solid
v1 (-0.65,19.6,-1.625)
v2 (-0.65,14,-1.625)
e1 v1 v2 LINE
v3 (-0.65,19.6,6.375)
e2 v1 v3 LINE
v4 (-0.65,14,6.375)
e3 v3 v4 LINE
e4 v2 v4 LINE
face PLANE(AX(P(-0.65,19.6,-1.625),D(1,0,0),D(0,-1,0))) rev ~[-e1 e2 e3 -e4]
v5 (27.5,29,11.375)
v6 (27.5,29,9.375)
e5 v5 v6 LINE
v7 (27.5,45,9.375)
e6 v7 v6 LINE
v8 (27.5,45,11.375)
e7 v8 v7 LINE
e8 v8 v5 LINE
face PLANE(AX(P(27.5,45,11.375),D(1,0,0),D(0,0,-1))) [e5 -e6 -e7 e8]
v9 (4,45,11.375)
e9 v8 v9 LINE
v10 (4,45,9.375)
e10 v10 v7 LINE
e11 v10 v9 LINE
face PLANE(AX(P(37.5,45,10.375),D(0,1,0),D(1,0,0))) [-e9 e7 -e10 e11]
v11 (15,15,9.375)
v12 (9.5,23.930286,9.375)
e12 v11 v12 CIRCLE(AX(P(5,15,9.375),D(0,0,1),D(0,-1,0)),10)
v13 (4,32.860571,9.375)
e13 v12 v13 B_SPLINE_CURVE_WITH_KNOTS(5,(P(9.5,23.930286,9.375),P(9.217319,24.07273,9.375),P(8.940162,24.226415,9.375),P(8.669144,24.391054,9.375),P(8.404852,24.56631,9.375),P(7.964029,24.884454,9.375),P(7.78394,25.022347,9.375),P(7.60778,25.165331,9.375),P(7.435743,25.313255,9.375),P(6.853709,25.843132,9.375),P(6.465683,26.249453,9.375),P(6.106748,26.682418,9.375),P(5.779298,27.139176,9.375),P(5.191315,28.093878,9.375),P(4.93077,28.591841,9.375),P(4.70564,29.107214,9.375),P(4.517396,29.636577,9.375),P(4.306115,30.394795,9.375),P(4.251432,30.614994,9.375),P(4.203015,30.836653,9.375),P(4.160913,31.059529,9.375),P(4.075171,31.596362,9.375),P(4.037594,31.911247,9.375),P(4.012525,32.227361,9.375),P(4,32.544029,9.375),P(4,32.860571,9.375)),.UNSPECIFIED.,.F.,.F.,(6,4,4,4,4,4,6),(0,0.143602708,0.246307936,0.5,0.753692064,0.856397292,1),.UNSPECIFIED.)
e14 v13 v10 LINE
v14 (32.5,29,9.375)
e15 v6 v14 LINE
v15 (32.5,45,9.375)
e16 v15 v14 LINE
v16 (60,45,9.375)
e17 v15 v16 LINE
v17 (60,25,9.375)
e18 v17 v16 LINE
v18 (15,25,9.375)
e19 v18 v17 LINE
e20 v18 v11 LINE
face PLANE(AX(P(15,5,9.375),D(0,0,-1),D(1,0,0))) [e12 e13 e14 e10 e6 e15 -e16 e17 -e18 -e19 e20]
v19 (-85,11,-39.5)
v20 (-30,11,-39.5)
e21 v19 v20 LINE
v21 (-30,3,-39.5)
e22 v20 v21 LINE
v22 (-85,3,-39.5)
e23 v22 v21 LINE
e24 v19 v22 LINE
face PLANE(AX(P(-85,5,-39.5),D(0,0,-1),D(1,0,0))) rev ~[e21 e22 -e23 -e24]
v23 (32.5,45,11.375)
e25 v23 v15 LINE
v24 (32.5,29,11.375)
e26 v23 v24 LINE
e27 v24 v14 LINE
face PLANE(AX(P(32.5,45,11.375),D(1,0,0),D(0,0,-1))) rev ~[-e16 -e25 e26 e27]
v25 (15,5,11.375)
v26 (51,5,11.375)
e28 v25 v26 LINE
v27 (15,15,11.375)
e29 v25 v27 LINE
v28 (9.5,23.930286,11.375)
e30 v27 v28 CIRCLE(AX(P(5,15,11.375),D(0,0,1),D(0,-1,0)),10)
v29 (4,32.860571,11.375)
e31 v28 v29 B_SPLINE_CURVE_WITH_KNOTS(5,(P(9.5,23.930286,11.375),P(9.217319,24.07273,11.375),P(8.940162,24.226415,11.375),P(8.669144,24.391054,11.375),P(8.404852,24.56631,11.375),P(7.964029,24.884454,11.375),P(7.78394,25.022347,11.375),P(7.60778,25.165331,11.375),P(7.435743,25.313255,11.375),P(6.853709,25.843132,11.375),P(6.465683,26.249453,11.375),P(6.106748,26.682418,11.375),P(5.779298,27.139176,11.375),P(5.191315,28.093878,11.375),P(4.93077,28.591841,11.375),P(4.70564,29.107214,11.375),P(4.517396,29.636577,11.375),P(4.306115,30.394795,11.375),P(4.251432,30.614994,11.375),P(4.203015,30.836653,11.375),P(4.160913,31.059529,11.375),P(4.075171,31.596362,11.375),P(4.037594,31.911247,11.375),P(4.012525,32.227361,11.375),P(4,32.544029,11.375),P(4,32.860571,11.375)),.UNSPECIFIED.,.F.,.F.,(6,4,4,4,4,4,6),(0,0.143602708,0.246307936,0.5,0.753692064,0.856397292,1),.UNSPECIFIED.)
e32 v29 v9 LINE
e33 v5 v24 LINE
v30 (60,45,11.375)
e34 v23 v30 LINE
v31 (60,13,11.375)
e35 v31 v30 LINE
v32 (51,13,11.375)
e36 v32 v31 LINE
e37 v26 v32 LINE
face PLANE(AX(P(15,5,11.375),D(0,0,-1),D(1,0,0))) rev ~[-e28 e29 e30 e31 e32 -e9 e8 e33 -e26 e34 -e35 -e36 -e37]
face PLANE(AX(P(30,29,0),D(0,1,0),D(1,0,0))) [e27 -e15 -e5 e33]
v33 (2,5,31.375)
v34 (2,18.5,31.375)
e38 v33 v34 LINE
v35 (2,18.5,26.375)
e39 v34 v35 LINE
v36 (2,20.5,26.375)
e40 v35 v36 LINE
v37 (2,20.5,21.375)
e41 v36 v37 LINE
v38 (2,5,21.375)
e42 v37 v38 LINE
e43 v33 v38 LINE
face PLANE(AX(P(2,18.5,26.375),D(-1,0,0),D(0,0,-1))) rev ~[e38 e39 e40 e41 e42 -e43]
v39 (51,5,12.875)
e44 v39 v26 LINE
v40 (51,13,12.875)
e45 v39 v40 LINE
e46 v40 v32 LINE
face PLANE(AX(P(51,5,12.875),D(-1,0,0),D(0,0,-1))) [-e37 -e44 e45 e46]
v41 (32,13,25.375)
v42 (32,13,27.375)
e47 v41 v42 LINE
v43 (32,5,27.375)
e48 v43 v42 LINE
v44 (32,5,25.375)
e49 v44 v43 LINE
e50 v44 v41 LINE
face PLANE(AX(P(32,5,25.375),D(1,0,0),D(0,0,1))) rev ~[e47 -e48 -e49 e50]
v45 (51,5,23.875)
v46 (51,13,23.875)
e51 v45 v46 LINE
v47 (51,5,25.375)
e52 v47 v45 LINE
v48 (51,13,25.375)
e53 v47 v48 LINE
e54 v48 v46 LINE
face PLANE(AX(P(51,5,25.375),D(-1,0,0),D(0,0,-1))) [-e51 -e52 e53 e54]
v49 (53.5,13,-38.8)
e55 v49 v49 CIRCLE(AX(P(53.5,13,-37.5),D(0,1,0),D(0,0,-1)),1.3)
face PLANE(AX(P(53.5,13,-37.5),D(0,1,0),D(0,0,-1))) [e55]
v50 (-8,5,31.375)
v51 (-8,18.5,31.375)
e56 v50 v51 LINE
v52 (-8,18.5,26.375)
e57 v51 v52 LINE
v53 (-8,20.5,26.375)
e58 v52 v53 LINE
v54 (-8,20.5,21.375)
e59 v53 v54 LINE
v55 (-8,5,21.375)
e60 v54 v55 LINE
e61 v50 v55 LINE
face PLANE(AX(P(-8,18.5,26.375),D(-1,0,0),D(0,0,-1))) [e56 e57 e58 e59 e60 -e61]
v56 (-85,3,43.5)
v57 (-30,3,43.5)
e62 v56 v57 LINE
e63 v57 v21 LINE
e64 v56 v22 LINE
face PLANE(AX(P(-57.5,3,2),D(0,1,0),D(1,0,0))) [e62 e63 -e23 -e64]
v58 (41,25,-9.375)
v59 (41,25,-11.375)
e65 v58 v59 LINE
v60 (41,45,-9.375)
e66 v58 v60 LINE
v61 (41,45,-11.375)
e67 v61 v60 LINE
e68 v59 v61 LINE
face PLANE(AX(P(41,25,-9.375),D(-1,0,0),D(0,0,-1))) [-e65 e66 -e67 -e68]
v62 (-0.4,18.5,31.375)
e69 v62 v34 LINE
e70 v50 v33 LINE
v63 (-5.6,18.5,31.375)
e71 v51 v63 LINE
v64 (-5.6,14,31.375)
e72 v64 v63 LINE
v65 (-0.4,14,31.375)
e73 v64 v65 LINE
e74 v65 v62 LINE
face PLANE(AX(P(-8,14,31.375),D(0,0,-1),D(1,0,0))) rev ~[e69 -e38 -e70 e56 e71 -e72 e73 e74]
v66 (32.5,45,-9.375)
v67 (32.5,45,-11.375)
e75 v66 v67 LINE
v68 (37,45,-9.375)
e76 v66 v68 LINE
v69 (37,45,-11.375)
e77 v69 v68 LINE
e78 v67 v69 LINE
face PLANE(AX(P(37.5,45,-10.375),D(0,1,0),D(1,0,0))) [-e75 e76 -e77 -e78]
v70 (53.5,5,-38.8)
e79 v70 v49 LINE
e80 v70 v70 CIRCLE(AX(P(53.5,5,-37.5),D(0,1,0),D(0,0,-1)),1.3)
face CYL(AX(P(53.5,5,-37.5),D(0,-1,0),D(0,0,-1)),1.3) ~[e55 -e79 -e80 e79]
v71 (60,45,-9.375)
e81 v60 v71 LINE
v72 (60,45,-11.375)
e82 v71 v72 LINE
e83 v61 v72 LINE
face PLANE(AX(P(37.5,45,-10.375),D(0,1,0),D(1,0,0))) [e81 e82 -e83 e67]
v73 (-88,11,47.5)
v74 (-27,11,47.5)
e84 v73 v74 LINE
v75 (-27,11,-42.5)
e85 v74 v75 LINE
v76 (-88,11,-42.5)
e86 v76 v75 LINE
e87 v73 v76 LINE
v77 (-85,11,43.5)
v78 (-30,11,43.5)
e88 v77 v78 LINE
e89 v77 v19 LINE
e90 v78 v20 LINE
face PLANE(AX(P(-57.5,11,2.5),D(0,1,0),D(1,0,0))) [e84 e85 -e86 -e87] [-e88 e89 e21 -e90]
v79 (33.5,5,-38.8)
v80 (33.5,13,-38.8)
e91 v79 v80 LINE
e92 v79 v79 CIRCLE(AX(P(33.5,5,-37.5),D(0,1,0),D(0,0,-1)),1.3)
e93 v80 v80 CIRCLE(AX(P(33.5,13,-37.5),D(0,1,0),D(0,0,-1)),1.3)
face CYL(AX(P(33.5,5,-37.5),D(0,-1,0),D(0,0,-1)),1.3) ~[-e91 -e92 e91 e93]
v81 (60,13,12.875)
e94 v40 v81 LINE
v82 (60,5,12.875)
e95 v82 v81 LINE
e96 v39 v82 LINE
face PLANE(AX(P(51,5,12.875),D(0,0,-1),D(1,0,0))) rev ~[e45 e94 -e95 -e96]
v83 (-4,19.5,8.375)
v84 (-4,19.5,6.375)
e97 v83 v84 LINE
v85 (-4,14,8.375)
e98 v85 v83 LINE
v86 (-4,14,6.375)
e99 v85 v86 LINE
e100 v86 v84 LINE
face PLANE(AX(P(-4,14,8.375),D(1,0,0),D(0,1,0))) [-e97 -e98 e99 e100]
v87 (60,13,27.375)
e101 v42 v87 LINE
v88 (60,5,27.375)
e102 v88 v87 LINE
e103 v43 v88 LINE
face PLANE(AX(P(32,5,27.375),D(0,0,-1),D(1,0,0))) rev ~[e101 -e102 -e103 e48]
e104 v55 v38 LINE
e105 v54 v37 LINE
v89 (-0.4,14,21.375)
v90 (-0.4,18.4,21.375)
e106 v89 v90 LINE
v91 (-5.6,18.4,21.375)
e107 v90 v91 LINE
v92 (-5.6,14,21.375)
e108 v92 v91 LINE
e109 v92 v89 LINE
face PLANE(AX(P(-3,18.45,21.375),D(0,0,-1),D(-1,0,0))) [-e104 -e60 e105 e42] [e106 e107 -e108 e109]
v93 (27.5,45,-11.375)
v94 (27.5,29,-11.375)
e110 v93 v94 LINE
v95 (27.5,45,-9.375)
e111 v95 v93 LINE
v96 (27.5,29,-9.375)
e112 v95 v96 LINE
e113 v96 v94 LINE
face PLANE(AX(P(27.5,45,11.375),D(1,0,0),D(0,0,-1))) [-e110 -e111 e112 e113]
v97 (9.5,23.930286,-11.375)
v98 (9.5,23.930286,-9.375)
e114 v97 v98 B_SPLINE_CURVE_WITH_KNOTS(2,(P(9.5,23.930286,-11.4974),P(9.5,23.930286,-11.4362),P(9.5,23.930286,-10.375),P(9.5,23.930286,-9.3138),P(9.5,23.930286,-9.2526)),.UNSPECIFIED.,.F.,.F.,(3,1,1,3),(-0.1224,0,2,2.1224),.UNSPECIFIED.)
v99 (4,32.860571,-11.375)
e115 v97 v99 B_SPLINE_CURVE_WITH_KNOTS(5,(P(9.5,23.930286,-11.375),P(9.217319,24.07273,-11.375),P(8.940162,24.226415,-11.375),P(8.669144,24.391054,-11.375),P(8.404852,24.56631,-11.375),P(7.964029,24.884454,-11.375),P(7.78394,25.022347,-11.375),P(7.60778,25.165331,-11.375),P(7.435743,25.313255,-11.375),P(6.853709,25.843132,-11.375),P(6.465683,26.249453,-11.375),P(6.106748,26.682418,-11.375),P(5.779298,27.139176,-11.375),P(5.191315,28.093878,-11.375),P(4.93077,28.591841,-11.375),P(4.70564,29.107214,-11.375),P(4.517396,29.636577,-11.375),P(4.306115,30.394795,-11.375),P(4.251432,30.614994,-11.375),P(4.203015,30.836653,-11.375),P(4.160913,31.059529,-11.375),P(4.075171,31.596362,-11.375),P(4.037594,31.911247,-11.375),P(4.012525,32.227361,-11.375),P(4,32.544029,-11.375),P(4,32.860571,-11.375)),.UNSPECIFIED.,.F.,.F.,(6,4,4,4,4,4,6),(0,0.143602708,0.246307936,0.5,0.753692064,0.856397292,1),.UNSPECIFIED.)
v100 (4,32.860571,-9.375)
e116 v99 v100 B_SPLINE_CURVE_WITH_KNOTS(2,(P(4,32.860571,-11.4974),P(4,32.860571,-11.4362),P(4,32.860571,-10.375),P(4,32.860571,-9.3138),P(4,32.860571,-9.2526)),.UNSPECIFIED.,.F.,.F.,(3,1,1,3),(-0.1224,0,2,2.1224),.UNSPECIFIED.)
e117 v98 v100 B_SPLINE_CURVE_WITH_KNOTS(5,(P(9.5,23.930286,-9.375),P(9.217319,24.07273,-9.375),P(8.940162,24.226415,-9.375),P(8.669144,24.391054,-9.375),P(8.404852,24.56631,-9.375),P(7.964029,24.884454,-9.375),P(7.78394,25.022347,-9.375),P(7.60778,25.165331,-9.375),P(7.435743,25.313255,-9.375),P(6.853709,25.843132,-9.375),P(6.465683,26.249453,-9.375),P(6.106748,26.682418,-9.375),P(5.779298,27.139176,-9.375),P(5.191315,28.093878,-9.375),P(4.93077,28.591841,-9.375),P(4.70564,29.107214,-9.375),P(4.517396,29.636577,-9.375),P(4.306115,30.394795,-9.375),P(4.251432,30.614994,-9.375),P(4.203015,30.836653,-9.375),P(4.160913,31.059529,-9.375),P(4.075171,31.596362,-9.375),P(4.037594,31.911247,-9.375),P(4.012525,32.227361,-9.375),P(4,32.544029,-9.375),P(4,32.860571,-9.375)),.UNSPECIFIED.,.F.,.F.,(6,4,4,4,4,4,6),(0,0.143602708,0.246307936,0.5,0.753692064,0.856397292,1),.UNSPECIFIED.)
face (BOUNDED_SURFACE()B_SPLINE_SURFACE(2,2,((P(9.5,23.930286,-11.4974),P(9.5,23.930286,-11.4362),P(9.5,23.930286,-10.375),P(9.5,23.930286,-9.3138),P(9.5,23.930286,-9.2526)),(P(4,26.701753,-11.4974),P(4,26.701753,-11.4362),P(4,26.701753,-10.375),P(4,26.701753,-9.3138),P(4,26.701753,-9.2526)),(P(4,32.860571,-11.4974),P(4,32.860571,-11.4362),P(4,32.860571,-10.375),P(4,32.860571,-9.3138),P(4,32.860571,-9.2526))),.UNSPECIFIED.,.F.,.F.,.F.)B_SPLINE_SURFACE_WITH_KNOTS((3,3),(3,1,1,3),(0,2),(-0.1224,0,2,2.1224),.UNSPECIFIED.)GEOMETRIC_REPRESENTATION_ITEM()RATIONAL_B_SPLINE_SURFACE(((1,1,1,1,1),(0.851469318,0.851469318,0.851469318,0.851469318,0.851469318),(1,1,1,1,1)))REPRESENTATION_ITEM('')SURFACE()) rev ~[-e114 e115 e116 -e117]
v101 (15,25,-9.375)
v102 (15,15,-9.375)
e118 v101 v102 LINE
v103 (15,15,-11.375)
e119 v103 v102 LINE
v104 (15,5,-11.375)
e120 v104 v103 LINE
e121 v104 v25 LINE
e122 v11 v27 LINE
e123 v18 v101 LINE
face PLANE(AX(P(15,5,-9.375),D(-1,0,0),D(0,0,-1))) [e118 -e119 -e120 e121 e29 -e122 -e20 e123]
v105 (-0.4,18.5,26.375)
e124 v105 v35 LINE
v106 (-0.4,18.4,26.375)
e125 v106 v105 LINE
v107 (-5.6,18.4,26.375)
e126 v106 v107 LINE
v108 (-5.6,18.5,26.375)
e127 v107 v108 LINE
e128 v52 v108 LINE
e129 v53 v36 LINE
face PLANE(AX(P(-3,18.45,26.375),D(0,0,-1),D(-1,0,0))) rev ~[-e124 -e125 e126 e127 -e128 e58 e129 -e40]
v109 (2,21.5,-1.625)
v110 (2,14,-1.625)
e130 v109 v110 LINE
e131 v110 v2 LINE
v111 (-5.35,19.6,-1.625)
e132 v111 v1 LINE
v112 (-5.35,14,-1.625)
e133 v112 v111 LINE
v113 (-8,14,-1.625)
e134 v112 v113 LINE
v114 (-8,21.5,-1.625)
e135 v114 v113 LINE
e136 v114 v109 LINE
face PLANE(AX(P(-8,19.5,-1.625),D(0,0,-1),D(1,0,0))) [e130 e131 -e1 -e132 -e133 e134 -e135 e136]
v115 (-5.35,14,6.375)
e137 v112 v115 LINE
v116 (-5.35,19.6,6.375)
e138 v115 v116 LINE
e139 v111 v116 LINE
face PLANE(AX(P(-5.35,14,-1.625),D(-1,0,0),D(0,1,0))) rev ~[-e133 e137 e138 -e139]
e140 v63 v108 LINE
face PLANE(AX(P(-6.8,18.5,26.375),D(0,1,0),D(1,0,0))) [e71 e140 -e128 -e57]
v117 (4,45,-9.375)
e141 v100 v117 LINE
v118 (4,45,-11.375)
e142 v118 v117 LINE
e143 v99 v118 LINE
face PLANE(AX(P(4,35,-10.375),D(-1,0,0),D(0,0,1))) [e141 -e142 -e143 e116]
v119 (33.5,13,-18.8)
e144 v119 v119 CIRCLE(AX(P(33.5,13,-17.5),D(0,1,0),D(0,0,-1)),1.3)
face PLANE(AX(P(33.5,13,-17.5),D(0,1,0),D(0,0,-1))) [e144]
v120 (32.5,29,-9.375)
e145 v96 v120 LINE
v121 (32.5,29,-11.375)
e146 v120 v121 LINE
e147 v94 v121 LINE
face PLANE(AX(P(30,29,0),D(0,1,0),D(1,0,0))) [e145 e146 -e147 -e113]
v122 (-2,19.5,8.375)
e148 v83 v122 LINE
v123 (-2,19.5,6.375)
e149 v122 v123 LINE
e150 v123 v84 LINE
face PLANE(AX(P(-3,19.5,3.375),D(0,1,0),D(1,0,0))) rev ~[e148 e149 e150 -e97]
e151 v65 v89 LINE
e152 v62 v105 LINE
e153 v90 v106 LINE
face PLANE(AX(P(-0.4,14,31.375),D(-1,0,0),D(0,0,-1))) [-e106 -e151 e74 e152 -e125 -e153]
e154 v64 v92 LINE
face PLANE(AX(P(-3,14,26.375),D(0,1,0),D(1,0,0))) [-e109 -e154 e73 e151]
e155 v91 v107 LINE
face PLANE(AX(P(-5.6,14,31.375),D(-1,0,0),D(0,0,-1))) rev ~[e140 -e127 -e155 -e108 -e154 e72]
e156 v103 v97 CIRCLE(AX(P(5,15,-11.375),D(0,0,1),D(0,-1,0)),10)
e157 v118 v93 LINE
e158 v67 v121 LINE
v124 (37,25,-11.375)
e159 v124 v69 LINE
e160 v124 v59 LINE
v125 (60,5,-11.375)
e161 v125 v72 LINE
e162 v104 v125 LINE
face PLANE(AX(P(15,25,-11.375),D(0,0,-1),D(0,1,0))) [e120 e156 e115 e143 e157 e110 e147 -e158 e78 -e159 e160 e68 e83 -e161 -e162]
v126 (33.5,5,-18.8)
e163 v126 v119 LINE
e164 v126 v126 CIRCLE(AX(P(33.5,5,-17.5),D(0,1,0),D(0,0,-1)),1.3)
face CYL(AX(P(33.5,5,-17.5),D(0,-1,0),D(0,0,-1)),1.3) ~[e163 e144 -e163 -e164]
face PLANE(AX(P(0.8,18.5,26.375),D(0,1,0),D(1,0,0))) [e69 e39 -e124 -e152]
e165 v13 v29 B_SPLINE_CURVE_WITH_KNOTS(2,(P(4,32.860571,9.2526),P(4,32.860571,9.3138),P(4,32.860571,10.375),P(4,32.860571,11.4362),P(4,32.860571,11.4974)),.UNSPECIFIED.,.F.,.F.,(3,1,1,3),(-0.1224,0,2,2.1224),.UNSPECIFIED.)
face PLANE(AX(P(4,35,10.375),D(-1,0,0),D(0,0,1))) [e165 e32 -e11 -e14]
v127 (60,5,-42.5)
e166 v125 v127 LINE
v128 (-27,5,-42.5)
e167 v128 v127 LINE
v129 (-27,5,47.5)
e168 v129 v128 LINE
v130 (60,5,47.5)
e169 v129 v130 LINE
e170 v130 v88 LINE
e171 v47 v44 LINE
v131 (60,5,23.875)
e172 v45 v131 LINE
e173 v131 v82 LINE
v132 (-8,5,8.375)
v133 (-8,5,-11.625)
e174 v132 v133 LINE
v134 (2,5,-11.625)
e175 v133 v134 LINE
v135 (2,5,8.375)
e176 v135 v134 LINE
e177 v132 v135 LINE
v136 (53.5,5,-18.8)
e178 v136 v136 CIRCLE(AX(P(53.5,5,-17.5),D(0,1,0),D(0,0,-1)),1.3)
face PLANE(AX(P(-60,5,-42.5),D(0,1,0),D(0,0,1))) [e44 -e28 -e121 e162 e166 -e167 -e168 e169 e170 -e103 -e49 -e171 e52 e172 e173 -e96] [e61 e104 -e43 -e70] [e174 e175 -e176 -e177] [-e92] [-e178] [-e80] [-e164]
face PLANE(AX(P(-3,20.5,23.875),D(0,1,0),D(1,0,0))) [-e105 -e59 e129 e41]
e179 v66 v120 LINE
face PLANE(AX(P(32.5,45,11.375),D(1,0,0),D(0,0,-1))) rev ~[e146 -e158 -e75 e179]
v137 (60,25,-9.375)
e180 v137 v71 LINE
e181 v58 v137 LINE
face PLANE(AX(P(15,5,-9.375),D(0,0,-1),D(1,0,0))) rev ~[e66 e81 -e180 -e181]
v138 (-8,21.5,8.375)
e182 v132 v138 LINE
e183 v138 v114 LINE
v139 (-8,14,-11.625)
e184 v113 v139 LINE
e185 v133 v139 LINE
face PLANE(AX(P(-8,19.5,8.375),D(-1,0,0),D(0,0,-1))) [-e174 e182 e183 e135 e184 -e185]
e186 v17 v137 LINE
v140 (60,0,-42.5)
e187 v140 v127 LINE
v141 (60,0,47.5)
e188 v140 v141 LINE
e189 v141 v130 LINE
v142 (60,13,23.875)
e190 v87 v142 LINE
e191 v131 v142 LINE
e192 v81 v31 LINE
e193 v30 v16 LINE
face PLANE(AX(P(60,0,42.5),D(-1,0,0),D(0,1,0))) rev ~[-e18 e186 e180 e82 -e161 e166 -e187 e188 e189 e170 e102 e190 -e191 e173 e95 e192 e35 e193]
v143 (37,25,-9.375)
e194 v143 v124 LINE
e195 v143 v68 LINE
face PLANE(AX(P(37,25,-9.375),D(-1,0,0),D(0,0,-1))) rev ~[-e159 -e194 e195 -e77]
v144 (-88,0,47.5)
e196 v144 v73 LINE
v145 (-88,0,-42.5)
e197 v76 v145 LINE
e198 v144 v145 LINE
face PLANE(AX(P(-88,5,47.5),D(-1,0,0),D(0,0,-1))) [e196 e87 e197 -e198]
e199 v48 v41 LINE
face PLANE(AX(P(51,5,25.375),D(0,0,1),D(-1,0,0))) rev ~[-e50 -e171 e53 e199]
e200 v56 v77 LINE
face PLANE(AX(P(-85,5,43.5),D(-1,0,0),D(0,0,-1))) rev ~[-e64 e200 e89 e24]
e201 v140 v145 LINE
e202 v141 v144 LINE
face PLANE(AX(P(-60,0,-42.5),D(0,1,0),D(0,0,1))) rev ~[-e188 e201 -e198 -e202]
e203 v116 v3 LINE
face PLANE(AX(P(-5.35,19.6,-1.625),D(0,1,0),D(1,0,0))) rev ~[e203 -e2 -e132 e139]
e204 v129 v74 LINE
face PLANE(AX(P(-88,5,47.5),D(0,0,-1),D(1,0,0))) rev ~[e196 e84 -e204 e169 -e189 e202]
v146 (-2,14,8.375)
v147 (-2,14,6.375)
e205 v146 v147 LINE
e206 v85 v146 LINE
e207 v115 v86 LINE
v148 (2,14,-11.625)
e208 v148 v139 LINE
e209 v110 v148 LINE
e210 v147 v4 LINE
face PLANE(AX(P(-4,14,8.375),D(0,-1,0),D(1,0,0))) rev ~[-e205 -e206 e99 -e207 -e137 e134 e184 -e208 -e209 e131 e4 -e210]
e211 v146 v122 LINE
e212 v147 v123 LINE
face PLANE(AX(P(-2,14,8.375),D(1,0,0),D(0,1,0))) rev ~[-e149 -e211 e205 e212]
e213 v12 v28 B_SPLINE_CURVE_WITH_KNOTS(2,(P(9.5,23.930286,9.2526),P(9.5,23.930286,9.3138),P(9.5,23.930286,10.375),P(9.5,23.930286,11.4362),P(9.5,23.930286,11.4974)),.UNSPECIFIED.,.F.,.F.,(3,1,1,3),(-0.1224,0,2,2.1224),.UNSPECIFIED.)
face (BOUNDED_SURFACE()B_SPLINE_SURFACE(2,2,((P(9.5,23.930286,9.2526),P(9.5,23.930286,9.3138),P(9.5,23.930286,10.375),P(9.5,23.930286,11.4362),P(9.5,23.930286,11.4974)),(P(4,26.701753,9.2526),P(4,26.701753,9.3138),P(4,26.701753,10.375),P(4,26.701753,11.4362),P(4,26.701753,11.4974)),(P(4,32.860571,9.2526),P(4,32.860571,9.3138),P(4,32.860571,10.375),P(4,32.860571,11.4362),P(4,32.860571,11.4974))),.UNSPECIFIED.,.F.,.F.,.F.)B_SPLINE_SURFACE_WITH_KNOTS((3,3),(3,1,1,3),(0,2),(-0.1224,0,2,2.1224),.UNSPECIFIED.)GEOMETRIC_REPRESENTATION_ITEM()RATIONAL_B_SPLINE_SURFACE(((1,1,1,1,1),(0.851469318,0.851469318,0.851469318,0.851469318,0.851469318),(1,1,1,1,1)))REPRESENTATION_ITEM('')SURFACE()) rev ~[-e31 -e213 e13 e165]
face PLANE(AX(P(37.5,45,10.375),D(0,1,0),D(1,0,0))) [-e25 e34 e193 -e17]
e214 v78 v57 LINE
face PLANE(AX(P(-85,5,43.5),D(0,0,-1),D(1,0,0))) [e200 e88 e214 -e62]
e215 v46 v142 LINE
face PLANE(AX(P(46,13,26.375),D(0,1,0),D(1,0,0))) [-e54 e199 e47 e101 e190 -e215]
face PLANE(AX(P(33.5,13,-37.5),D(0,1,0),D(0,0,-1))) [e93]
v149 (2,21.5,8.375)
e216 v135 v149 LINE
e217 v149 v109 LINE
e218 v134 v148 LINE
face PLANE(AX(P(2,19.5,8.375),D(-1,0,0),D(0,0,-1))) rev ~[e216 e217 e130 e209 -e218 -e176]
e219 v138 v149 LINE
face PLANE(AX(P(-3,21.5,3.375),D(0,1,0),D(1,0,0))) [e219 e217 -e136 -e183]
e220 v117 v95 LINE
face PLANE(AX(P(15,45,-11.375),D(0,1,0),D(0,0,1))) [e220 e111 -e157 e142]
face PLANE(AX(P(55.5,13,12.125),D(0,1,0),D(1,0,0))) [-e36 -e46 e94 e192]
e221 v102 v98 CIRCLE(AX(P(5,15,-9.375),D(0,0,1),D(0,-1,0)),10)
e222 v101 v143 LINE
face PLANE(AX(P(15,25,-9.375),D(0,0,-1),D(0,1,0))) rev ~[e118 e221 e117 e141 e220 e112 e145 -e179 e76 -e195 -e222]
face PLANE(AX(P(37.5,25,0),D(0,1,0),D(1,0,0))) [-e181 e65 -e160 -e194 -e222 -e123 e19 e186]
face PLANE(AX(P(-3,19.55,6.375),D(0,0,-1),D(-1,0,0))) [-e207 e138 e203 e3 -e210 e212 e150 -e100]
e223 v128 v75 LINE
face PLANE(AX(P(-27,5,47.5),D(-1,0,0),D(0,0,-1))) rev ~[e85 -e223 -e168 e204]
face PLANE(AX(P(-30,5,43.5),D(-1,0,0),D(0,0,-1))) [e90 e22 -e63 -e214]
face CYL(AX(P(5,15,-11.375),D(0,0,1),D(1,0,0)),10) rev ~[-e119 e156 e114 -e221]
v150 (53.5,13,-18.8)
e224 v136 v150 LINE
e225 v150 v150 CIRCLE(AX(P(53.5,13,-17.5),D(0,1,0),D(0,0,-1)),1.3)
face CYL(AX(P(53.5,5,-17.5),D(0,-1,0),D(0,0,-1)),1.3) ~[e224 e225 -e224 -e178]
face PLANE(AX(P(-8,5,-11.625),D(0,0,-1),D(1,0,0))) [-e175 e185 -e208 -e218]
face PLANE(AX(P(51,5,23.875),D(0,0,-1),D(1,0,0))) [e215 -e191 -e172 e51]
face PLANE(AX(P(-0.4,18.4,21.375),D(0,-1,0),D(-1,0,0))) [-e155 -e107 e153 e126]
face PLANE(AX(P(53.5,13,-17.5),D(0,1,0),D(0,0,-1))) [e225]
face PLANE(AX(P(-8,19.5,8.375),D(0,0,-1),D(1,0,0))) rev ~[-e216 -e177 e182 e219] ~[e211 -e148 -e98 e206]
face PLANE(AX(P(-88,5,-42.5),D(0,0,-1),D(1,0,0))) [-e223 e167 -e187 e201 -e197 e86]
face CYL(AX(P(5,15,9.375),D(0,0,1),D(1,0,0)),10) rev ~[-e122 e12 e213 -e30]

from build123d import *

# Parameters (mm, degrees)
SKETCH3_W               = 120
SKETCH3_H               = 85
BOSS_EXTRUDE1_DEPTH     = 5
SKETCH4_W               = 45
SKETCH4_H               = 18.75
BOSS_EXTRUDE2_DEPTH     = 20
SKETCH6_W               = 45
SKETCH6_H               = 2
BOSS_EXTRUDE3_DEPTH     = 40
CUT_EXTRUDE1_DEPTH      = 87.204698248
CUT_EXTRUDE1_DEPTH_BACK = 20
SKETCH7_W               = 4
SKETCH7_H               = 2
SKETCH8_W               = 10
SKETCH8_H               = 20
BOSS_EXTRUDE4_DEPTH     = 9
BOSS_EXTRUDE5_DEPTH     = 5.5
SKETCH10_W              = 2
SKETCH10_H              = 5.5
CUT_EXTRUDE2_DEPTH      = 91.627068942
SKETCH11_W              = 10
SKETCH11_H              = 10
BOSS_EXTRUDE6_DEPTH     = 2
SKETCH12_W              = 10
SKETCH12_H              = 10
BOSS_EXTRUDE7_DEPTH     = 9
SKETCH13_W              = 2.4
SKETCH13_H              = 10
BOSS_EXTRUDE8_DEPTH     = 4.5
SKETCH14_W              = 10
SKETCH14_H              = 5
BOSS_EXTRUDE9_DEPTH     = 2
SKETCH15_R              = 1.3
BOSS_EXTRUDE10_DEPTH    = 8
SKETCH16_W              = 9
SKETCH16_H              = 1.5
BOSS_EXTRUDE11_DEPTH    = 8
SKETCH18_W              = 120
SKETCH18_H              = 5
BOSS_EXTRUDE12_DEPTH    = 5
SKETCH19_W              = 90
SKETCH19_H              = 5
BOSS_EXTRUDE13_DEPTH    = 30
SKETCH17_W              = 55
SKETCH17_H              = 83
CUT_EXTRUDE3_DEPTH      = 2
SKETCH20_W              = 61
SKETCH20_H              = 90
SKETCH20_W_2            = 55
SKETCH20_H_2            = 83
BOSS_EXTRUDE14_DEPTH    = 6
SKETCH21_W              = 2
SKETCH21_H              = 90
CUT_EXTRUDE4_DEPTH      = 110.344638643
SKETCH22_W              = 5
SKETCH22_H              = 22.75
CUT_EXTRUDE5_DEPTH      = 16
SKETCH23_W              = 2
SKETCH23_H              = 20
BOSS_EXTRUDE15_DEPTH    = 11
FILLET1_R               = 10
FILLET2_R               = 10
SKETCH24_W              = 0.1
SKETCH24_H              = 5.5
CUT_EXTRUDE6_DEPTH      = 8
SKETCH25_W              = 5.2
SKETCH25_H              = 0.1
BOSS_EXTRUDE16_DEPTH    = 5


with BuildPart() as part:
    # Sketch3 → Boss-Extrude1 (new body)
    with BuildSketch(Plane(origin=(0, 0, 0), x_dir=(1, 0, 0), z_dir=(0, 1, 0))):
        Rectangle(SKETCH3_W, SKETCH3_H)
    extrude(amount=BOSS_EXTRUDE1_DEPTH)

    # Sketch4 → Boss-Extrude2 (add)
    with BuildSketch(Plane(origin=(0, 5, 0), x_dir=(1, 0, 0), z_dir=(0, 1, 0))):
        with Locations((37.5, 0)):
            Rectangle(SKETCH4_W, SKETCH4_H)
    extrude(amount=BOSS_EXTRUDE2_DEPTH)

    # Sketch6 → Boss-Extrude3 (add)
    with BuildSketch(Plane(origin=(0, 5, 0), x_dir=(1, 0, 0), z_dir=(0, 1, 0))):
        with Locations((37.5, 10.375)):
            Rectangle(SKETCH6_W, SKETCH6_H)
        with Locations((37.5, -10.375)):
            Rectangle(SKETCH6_W, SKETCH6_H)
    extrude(amount=BOSS_EXTRUDE3_DEPTH)

    # Sketch7 → Cut-Extrude1 (cut, two sides: drawn at the far end of the back side and taken through both)
    with BuildSketch(Plane(origin=(0, 45, 0), x_dir=(1, 0, 0), z_dir=(0, 1, 0)).offset(-CUT_EXTRUDE1_DEPTH_BACK)):
        with Locations((39, 10.375)):
            Rectangle(SKETCH7_W, SKETCH7_H)
    extrude(amount=CUT_EXTRUDE1_DEPTH + CUT_EXTRUDE1_DEPTH_BACK, mode=Mode.SUBTRACT)

    # Sketch8 → Boss-Extrude4 (add)
    with BuildSketch(Plane(origin=(0, 5, 0), x_dir=(1, 0, 0), z_dir=(0, 1, 0))):
        with Locations((-3, 1.625)):
            Rectangle(SKETCH8_W, SKETCH8_H)
    extrude(amount=BOSS_EXTRUDE4_DEPTH)

    # Sketch9 → Boss-Extrude5 (add)
    with BuildSketch(Plane(origin=(0, 14, 0), x_dir=(1, 0, 0), z_dir=(0, 1, 0))):
        Polygon((-8, -8.375), (2, -8.375), (2, 1.625), (-0.75, 1.625), (-0.75, -6.375), (-5.25, -6.375), (-5.25, 1.625), (-8, 1.625), align=None)
    extrude(amount=BOSS_EXTRUDE5_DEPTH)

    # Sketch10 → Cut-Extrude2 (cut, through all)
    with BuildSketch(Plane.XY.offset(8.375)):
        with Locations((-3, 16.75)):
            Rectangle(SKETCH10_W, SKETCH10_H)
    extrude(amount=-CUT_EXTRUDE2_DEPTH, mode=Mode.SUBTRACT)

    # Sketch11 → Boss-Extrude6 (add)
    with BuildSketch(Plane(origin=(0, 19.5, 0), x_dir=(1, 0, 0), z_dir=(0, 1, 0))):
        with Locations((-3, -3.375)):
            Rectangle(SKETCH11_W, SKETCH11_H)
    extrude(amount=BOSS_EXTRUDE6_DEPTH)

    # Sketch12 → Boss-Extrude7 (add)
    with BuildSketch(Plane(origin=(0, 5, 0), x_dir=(1, 0, 0), z_dir=(0, 1, 0))):
        with Locations((-3, -26.375)):
            Rectangle(SKETCH12_W, SKETCH12_H)
    extrude(amount=BOSS_EXTRUDE7_DEPTH)

    # Sketch13 → Boss-Extrude8 (add)
    with BuildSketch(Plane(origin=(0, 14, 0), x_dir=(1, 0, 0), z_dir=(0, 1, 0))):
        with Locations((-6.8, -26.375)):
            Rectangle(SKETCH13_W, SKETCH13_H)
        with Locations((0.8, -26.375)):
            Rectangle(SKETCH13_W, SKETCH13_H)
    extrude(amount=BOSS_EXTRUDE8_DEPTH)

    # Sketch14 → Boss-Extrude9 (add)
    with BuildSketch(Plane(origin=(0, 18.5, 0), x_dir=(1, 0, 0), z_dir=(0, 1, 0))):
        with Locations((-3, -23.875)):
            Rectangle(SKETCH14_W, SKETCH14_H)
    extrude(amount=BOSS_EXTRUDE9_DEPTH)

    # Sketch15 → Boss-Extrude10 (add)
    with BuildSketch(Plane(origin=(0, 5, 0), x_dir=(1, 0, 0), z_dir=(0, 1, 0))):
        with Locations(Location((33.5, 37.5, 0), (0, 0, 90))):
            Circle(SKETCH15_R)
        with Locations(Location((53.5, 37.5, 0), (0, 0, 90))):
            Circle(SKETCH15_R)
        with Locations(Location((53.5, 17.5, 0), (0, 0, 90))):
            Circle(SKETCH15_R)
        with Locations(Location((33.5, 17.5, 0), (0, 0, 90))):
            Circle(SKETCH15_R)
    extrude(amount=BOSS_EXTRUDE10_DEPTH)

    # Sketch16 → Boss-Extrude11 (add)
    with BuildSketch(Plane(origin=(0, 5, 0), x_dir=(1, 0, 0), z_dir=(0, 1, 0))):
        with Locations((55.5, -12.125)):
            Rectangle(SKETCH16_W, SKETCH16_H)
        Polygon((51, -25.375), (32, -25.375), (32, -27.375), (60, -27.375), (60, -25.375), align=None)
        with Locations((55.5, -24.625)):
            Rectangle(SKETCH16_W, SKETCH16_H)
    extrude(amount=BOSS_EXTRUDE11_DEPTH)

    # Sketch18 → Boss-Extrude12 (add)
    with BuildSketch(Plane.XY.offset(42.5)):
        with Locations((0, 2.5)):
            Rectangle(SKETCH18_W, SKETCH18_H)
    extrude(amount=BOSS_EXTRUDE12_DEPTH)

    # Sketch19 → Boss-Extrude13 (add)
    with BuildSketch(Plane.ZY.offset(60)):
        with Locations((2.5, 2.5)):
            Rectangle(SKETCH19_W, SKETCH19_H)
    extrude(amount=BOSS_EXTRUDE13_DEPTH)

    # Sketch17 → Cut-Extrude3 (cut)
    with BuildSketch(Plane(origin=(0, 5, 0), x_dir=(1, 0, 0), z_dir=(0, 1, 0))):
        with Locations((-57.5, -2)):
            Rectangle(SKETCH17_W, SKETCH17_H)
    extrude(amount=-CUT_EXTRUDE3_DEPTH, mode=Mode.SUBTRACT)

    # Sketch20 → Boss-Extrude14 (add)
    with BuildSketch(Plane(origin=(0, 5, 0), x_dir=(1, 0, 0), z_dir=(0, 1, 0))):
        with Locations((-57.5, -2.5)):
            Rectangle(SKETCH20_W, SKETCH20_H)
        with Locations((-57.5, -2)):
            Rectangle(SKETCH20_W_2, SKETCH20_H_2, mode=Mode.SUBTRACT)
    extrude(amount=BOSS_EXTRUDE14_DEPTH)

    # Sketch21 → Cut-Extrude4 (cut, through all)
    with BuildSketch(Plane(origin=(0, 5, 0), x_dir=(1, 0, 0), z_dir=(0, 1, 0))):
        with Locations((-89, -2.5)):
            Rectangle(SKETCH21_W, SKETCH21_H)
    extrude(amount=-CUT_EXTRUDE4_DEPTH, mode=Mode.SUBTRACT)

    # Sketch22 → Cut-Extrude5 (cut)
    with BuildSketch(Plane(origin=(0, 45, 0), x_dir=(1, 0, 0), z_dir=(0, 1, 0))):
        with Locations((30, 0)):
            Rectangle(SKETCH22_W, SKETCH22_H)
    extrude(amount=-CUT_EXTRUDE5_DEPTH, mode=Mode.SUBTRACT)

    # Sketch23 → Boss-Extrude15 (add)
    with BuildSketch(Plane.ZY.offset(-15)):
        with Locations((-10.375, 35)):
            Rectangle(SKETCH23_W, SKETCH23_H)
        with Locations((10.375, 35)):
            Rectangle(SKETCH23_W, SKETCH23_H)
    extrude(amount=BOSS_EXTRUDE15_DEPTH)

    # Fillet1
    fillet1_edges = [part.edges().sort_by_distance(p)[0] for p in [
        (15, 25, -10.375),
        (15, 25, 10.375),
    ]]
    fillet(fillet1_edges, radius=FILLET1_R)

    # Fillet2
    fillet2_edges = [part.edges().sort_by_distance(p)[0] for p in [
        (4, 25, -10.375),
        (4, 25, 10.375),
    ]]
    fillet(fillet2_edges, radius=FILLET2_R)

    # Sketch24 → Cut-Extrude6 (cut)
    with BuildSketch(Plane(origin=(0, 0, -1.625), x_dir=(-1, 0, 0), z_dir=(0, 0, -1))):
        Polygon((0.75, 19.5), (5.25, 19.5), (5.35, 19.5), (5.35, 19.6), (0.65, 19.6), (0.65, 19.5), align=None)
        with Locations((5.3, 16.75)):
            Rectangle(SKETCH24_W, SKETCH24_H)
        with Locations((0.7, 16.75)):
            Rectangle(SKETCH24_W, SKETCH24_H)
    extrude(amount=-CUT_EXTRUDE6_DEPTH, mode=Mode.SUBTRACT)

    # Sketch25 → Boss-Extrude16 (add)
    with BuildSketch(Plane(origin=(0, 0, 21.375), x_dir=(-1, 0, 0), z_dir=(0, 0, -1))):
        with Locations((3, 18.45)):
            Rectangle(SKETCH25_W, SKETCH25_H)
    extrude(amount=-BOSS_EXTRUDE16_DEPTH)


solid = part.part
